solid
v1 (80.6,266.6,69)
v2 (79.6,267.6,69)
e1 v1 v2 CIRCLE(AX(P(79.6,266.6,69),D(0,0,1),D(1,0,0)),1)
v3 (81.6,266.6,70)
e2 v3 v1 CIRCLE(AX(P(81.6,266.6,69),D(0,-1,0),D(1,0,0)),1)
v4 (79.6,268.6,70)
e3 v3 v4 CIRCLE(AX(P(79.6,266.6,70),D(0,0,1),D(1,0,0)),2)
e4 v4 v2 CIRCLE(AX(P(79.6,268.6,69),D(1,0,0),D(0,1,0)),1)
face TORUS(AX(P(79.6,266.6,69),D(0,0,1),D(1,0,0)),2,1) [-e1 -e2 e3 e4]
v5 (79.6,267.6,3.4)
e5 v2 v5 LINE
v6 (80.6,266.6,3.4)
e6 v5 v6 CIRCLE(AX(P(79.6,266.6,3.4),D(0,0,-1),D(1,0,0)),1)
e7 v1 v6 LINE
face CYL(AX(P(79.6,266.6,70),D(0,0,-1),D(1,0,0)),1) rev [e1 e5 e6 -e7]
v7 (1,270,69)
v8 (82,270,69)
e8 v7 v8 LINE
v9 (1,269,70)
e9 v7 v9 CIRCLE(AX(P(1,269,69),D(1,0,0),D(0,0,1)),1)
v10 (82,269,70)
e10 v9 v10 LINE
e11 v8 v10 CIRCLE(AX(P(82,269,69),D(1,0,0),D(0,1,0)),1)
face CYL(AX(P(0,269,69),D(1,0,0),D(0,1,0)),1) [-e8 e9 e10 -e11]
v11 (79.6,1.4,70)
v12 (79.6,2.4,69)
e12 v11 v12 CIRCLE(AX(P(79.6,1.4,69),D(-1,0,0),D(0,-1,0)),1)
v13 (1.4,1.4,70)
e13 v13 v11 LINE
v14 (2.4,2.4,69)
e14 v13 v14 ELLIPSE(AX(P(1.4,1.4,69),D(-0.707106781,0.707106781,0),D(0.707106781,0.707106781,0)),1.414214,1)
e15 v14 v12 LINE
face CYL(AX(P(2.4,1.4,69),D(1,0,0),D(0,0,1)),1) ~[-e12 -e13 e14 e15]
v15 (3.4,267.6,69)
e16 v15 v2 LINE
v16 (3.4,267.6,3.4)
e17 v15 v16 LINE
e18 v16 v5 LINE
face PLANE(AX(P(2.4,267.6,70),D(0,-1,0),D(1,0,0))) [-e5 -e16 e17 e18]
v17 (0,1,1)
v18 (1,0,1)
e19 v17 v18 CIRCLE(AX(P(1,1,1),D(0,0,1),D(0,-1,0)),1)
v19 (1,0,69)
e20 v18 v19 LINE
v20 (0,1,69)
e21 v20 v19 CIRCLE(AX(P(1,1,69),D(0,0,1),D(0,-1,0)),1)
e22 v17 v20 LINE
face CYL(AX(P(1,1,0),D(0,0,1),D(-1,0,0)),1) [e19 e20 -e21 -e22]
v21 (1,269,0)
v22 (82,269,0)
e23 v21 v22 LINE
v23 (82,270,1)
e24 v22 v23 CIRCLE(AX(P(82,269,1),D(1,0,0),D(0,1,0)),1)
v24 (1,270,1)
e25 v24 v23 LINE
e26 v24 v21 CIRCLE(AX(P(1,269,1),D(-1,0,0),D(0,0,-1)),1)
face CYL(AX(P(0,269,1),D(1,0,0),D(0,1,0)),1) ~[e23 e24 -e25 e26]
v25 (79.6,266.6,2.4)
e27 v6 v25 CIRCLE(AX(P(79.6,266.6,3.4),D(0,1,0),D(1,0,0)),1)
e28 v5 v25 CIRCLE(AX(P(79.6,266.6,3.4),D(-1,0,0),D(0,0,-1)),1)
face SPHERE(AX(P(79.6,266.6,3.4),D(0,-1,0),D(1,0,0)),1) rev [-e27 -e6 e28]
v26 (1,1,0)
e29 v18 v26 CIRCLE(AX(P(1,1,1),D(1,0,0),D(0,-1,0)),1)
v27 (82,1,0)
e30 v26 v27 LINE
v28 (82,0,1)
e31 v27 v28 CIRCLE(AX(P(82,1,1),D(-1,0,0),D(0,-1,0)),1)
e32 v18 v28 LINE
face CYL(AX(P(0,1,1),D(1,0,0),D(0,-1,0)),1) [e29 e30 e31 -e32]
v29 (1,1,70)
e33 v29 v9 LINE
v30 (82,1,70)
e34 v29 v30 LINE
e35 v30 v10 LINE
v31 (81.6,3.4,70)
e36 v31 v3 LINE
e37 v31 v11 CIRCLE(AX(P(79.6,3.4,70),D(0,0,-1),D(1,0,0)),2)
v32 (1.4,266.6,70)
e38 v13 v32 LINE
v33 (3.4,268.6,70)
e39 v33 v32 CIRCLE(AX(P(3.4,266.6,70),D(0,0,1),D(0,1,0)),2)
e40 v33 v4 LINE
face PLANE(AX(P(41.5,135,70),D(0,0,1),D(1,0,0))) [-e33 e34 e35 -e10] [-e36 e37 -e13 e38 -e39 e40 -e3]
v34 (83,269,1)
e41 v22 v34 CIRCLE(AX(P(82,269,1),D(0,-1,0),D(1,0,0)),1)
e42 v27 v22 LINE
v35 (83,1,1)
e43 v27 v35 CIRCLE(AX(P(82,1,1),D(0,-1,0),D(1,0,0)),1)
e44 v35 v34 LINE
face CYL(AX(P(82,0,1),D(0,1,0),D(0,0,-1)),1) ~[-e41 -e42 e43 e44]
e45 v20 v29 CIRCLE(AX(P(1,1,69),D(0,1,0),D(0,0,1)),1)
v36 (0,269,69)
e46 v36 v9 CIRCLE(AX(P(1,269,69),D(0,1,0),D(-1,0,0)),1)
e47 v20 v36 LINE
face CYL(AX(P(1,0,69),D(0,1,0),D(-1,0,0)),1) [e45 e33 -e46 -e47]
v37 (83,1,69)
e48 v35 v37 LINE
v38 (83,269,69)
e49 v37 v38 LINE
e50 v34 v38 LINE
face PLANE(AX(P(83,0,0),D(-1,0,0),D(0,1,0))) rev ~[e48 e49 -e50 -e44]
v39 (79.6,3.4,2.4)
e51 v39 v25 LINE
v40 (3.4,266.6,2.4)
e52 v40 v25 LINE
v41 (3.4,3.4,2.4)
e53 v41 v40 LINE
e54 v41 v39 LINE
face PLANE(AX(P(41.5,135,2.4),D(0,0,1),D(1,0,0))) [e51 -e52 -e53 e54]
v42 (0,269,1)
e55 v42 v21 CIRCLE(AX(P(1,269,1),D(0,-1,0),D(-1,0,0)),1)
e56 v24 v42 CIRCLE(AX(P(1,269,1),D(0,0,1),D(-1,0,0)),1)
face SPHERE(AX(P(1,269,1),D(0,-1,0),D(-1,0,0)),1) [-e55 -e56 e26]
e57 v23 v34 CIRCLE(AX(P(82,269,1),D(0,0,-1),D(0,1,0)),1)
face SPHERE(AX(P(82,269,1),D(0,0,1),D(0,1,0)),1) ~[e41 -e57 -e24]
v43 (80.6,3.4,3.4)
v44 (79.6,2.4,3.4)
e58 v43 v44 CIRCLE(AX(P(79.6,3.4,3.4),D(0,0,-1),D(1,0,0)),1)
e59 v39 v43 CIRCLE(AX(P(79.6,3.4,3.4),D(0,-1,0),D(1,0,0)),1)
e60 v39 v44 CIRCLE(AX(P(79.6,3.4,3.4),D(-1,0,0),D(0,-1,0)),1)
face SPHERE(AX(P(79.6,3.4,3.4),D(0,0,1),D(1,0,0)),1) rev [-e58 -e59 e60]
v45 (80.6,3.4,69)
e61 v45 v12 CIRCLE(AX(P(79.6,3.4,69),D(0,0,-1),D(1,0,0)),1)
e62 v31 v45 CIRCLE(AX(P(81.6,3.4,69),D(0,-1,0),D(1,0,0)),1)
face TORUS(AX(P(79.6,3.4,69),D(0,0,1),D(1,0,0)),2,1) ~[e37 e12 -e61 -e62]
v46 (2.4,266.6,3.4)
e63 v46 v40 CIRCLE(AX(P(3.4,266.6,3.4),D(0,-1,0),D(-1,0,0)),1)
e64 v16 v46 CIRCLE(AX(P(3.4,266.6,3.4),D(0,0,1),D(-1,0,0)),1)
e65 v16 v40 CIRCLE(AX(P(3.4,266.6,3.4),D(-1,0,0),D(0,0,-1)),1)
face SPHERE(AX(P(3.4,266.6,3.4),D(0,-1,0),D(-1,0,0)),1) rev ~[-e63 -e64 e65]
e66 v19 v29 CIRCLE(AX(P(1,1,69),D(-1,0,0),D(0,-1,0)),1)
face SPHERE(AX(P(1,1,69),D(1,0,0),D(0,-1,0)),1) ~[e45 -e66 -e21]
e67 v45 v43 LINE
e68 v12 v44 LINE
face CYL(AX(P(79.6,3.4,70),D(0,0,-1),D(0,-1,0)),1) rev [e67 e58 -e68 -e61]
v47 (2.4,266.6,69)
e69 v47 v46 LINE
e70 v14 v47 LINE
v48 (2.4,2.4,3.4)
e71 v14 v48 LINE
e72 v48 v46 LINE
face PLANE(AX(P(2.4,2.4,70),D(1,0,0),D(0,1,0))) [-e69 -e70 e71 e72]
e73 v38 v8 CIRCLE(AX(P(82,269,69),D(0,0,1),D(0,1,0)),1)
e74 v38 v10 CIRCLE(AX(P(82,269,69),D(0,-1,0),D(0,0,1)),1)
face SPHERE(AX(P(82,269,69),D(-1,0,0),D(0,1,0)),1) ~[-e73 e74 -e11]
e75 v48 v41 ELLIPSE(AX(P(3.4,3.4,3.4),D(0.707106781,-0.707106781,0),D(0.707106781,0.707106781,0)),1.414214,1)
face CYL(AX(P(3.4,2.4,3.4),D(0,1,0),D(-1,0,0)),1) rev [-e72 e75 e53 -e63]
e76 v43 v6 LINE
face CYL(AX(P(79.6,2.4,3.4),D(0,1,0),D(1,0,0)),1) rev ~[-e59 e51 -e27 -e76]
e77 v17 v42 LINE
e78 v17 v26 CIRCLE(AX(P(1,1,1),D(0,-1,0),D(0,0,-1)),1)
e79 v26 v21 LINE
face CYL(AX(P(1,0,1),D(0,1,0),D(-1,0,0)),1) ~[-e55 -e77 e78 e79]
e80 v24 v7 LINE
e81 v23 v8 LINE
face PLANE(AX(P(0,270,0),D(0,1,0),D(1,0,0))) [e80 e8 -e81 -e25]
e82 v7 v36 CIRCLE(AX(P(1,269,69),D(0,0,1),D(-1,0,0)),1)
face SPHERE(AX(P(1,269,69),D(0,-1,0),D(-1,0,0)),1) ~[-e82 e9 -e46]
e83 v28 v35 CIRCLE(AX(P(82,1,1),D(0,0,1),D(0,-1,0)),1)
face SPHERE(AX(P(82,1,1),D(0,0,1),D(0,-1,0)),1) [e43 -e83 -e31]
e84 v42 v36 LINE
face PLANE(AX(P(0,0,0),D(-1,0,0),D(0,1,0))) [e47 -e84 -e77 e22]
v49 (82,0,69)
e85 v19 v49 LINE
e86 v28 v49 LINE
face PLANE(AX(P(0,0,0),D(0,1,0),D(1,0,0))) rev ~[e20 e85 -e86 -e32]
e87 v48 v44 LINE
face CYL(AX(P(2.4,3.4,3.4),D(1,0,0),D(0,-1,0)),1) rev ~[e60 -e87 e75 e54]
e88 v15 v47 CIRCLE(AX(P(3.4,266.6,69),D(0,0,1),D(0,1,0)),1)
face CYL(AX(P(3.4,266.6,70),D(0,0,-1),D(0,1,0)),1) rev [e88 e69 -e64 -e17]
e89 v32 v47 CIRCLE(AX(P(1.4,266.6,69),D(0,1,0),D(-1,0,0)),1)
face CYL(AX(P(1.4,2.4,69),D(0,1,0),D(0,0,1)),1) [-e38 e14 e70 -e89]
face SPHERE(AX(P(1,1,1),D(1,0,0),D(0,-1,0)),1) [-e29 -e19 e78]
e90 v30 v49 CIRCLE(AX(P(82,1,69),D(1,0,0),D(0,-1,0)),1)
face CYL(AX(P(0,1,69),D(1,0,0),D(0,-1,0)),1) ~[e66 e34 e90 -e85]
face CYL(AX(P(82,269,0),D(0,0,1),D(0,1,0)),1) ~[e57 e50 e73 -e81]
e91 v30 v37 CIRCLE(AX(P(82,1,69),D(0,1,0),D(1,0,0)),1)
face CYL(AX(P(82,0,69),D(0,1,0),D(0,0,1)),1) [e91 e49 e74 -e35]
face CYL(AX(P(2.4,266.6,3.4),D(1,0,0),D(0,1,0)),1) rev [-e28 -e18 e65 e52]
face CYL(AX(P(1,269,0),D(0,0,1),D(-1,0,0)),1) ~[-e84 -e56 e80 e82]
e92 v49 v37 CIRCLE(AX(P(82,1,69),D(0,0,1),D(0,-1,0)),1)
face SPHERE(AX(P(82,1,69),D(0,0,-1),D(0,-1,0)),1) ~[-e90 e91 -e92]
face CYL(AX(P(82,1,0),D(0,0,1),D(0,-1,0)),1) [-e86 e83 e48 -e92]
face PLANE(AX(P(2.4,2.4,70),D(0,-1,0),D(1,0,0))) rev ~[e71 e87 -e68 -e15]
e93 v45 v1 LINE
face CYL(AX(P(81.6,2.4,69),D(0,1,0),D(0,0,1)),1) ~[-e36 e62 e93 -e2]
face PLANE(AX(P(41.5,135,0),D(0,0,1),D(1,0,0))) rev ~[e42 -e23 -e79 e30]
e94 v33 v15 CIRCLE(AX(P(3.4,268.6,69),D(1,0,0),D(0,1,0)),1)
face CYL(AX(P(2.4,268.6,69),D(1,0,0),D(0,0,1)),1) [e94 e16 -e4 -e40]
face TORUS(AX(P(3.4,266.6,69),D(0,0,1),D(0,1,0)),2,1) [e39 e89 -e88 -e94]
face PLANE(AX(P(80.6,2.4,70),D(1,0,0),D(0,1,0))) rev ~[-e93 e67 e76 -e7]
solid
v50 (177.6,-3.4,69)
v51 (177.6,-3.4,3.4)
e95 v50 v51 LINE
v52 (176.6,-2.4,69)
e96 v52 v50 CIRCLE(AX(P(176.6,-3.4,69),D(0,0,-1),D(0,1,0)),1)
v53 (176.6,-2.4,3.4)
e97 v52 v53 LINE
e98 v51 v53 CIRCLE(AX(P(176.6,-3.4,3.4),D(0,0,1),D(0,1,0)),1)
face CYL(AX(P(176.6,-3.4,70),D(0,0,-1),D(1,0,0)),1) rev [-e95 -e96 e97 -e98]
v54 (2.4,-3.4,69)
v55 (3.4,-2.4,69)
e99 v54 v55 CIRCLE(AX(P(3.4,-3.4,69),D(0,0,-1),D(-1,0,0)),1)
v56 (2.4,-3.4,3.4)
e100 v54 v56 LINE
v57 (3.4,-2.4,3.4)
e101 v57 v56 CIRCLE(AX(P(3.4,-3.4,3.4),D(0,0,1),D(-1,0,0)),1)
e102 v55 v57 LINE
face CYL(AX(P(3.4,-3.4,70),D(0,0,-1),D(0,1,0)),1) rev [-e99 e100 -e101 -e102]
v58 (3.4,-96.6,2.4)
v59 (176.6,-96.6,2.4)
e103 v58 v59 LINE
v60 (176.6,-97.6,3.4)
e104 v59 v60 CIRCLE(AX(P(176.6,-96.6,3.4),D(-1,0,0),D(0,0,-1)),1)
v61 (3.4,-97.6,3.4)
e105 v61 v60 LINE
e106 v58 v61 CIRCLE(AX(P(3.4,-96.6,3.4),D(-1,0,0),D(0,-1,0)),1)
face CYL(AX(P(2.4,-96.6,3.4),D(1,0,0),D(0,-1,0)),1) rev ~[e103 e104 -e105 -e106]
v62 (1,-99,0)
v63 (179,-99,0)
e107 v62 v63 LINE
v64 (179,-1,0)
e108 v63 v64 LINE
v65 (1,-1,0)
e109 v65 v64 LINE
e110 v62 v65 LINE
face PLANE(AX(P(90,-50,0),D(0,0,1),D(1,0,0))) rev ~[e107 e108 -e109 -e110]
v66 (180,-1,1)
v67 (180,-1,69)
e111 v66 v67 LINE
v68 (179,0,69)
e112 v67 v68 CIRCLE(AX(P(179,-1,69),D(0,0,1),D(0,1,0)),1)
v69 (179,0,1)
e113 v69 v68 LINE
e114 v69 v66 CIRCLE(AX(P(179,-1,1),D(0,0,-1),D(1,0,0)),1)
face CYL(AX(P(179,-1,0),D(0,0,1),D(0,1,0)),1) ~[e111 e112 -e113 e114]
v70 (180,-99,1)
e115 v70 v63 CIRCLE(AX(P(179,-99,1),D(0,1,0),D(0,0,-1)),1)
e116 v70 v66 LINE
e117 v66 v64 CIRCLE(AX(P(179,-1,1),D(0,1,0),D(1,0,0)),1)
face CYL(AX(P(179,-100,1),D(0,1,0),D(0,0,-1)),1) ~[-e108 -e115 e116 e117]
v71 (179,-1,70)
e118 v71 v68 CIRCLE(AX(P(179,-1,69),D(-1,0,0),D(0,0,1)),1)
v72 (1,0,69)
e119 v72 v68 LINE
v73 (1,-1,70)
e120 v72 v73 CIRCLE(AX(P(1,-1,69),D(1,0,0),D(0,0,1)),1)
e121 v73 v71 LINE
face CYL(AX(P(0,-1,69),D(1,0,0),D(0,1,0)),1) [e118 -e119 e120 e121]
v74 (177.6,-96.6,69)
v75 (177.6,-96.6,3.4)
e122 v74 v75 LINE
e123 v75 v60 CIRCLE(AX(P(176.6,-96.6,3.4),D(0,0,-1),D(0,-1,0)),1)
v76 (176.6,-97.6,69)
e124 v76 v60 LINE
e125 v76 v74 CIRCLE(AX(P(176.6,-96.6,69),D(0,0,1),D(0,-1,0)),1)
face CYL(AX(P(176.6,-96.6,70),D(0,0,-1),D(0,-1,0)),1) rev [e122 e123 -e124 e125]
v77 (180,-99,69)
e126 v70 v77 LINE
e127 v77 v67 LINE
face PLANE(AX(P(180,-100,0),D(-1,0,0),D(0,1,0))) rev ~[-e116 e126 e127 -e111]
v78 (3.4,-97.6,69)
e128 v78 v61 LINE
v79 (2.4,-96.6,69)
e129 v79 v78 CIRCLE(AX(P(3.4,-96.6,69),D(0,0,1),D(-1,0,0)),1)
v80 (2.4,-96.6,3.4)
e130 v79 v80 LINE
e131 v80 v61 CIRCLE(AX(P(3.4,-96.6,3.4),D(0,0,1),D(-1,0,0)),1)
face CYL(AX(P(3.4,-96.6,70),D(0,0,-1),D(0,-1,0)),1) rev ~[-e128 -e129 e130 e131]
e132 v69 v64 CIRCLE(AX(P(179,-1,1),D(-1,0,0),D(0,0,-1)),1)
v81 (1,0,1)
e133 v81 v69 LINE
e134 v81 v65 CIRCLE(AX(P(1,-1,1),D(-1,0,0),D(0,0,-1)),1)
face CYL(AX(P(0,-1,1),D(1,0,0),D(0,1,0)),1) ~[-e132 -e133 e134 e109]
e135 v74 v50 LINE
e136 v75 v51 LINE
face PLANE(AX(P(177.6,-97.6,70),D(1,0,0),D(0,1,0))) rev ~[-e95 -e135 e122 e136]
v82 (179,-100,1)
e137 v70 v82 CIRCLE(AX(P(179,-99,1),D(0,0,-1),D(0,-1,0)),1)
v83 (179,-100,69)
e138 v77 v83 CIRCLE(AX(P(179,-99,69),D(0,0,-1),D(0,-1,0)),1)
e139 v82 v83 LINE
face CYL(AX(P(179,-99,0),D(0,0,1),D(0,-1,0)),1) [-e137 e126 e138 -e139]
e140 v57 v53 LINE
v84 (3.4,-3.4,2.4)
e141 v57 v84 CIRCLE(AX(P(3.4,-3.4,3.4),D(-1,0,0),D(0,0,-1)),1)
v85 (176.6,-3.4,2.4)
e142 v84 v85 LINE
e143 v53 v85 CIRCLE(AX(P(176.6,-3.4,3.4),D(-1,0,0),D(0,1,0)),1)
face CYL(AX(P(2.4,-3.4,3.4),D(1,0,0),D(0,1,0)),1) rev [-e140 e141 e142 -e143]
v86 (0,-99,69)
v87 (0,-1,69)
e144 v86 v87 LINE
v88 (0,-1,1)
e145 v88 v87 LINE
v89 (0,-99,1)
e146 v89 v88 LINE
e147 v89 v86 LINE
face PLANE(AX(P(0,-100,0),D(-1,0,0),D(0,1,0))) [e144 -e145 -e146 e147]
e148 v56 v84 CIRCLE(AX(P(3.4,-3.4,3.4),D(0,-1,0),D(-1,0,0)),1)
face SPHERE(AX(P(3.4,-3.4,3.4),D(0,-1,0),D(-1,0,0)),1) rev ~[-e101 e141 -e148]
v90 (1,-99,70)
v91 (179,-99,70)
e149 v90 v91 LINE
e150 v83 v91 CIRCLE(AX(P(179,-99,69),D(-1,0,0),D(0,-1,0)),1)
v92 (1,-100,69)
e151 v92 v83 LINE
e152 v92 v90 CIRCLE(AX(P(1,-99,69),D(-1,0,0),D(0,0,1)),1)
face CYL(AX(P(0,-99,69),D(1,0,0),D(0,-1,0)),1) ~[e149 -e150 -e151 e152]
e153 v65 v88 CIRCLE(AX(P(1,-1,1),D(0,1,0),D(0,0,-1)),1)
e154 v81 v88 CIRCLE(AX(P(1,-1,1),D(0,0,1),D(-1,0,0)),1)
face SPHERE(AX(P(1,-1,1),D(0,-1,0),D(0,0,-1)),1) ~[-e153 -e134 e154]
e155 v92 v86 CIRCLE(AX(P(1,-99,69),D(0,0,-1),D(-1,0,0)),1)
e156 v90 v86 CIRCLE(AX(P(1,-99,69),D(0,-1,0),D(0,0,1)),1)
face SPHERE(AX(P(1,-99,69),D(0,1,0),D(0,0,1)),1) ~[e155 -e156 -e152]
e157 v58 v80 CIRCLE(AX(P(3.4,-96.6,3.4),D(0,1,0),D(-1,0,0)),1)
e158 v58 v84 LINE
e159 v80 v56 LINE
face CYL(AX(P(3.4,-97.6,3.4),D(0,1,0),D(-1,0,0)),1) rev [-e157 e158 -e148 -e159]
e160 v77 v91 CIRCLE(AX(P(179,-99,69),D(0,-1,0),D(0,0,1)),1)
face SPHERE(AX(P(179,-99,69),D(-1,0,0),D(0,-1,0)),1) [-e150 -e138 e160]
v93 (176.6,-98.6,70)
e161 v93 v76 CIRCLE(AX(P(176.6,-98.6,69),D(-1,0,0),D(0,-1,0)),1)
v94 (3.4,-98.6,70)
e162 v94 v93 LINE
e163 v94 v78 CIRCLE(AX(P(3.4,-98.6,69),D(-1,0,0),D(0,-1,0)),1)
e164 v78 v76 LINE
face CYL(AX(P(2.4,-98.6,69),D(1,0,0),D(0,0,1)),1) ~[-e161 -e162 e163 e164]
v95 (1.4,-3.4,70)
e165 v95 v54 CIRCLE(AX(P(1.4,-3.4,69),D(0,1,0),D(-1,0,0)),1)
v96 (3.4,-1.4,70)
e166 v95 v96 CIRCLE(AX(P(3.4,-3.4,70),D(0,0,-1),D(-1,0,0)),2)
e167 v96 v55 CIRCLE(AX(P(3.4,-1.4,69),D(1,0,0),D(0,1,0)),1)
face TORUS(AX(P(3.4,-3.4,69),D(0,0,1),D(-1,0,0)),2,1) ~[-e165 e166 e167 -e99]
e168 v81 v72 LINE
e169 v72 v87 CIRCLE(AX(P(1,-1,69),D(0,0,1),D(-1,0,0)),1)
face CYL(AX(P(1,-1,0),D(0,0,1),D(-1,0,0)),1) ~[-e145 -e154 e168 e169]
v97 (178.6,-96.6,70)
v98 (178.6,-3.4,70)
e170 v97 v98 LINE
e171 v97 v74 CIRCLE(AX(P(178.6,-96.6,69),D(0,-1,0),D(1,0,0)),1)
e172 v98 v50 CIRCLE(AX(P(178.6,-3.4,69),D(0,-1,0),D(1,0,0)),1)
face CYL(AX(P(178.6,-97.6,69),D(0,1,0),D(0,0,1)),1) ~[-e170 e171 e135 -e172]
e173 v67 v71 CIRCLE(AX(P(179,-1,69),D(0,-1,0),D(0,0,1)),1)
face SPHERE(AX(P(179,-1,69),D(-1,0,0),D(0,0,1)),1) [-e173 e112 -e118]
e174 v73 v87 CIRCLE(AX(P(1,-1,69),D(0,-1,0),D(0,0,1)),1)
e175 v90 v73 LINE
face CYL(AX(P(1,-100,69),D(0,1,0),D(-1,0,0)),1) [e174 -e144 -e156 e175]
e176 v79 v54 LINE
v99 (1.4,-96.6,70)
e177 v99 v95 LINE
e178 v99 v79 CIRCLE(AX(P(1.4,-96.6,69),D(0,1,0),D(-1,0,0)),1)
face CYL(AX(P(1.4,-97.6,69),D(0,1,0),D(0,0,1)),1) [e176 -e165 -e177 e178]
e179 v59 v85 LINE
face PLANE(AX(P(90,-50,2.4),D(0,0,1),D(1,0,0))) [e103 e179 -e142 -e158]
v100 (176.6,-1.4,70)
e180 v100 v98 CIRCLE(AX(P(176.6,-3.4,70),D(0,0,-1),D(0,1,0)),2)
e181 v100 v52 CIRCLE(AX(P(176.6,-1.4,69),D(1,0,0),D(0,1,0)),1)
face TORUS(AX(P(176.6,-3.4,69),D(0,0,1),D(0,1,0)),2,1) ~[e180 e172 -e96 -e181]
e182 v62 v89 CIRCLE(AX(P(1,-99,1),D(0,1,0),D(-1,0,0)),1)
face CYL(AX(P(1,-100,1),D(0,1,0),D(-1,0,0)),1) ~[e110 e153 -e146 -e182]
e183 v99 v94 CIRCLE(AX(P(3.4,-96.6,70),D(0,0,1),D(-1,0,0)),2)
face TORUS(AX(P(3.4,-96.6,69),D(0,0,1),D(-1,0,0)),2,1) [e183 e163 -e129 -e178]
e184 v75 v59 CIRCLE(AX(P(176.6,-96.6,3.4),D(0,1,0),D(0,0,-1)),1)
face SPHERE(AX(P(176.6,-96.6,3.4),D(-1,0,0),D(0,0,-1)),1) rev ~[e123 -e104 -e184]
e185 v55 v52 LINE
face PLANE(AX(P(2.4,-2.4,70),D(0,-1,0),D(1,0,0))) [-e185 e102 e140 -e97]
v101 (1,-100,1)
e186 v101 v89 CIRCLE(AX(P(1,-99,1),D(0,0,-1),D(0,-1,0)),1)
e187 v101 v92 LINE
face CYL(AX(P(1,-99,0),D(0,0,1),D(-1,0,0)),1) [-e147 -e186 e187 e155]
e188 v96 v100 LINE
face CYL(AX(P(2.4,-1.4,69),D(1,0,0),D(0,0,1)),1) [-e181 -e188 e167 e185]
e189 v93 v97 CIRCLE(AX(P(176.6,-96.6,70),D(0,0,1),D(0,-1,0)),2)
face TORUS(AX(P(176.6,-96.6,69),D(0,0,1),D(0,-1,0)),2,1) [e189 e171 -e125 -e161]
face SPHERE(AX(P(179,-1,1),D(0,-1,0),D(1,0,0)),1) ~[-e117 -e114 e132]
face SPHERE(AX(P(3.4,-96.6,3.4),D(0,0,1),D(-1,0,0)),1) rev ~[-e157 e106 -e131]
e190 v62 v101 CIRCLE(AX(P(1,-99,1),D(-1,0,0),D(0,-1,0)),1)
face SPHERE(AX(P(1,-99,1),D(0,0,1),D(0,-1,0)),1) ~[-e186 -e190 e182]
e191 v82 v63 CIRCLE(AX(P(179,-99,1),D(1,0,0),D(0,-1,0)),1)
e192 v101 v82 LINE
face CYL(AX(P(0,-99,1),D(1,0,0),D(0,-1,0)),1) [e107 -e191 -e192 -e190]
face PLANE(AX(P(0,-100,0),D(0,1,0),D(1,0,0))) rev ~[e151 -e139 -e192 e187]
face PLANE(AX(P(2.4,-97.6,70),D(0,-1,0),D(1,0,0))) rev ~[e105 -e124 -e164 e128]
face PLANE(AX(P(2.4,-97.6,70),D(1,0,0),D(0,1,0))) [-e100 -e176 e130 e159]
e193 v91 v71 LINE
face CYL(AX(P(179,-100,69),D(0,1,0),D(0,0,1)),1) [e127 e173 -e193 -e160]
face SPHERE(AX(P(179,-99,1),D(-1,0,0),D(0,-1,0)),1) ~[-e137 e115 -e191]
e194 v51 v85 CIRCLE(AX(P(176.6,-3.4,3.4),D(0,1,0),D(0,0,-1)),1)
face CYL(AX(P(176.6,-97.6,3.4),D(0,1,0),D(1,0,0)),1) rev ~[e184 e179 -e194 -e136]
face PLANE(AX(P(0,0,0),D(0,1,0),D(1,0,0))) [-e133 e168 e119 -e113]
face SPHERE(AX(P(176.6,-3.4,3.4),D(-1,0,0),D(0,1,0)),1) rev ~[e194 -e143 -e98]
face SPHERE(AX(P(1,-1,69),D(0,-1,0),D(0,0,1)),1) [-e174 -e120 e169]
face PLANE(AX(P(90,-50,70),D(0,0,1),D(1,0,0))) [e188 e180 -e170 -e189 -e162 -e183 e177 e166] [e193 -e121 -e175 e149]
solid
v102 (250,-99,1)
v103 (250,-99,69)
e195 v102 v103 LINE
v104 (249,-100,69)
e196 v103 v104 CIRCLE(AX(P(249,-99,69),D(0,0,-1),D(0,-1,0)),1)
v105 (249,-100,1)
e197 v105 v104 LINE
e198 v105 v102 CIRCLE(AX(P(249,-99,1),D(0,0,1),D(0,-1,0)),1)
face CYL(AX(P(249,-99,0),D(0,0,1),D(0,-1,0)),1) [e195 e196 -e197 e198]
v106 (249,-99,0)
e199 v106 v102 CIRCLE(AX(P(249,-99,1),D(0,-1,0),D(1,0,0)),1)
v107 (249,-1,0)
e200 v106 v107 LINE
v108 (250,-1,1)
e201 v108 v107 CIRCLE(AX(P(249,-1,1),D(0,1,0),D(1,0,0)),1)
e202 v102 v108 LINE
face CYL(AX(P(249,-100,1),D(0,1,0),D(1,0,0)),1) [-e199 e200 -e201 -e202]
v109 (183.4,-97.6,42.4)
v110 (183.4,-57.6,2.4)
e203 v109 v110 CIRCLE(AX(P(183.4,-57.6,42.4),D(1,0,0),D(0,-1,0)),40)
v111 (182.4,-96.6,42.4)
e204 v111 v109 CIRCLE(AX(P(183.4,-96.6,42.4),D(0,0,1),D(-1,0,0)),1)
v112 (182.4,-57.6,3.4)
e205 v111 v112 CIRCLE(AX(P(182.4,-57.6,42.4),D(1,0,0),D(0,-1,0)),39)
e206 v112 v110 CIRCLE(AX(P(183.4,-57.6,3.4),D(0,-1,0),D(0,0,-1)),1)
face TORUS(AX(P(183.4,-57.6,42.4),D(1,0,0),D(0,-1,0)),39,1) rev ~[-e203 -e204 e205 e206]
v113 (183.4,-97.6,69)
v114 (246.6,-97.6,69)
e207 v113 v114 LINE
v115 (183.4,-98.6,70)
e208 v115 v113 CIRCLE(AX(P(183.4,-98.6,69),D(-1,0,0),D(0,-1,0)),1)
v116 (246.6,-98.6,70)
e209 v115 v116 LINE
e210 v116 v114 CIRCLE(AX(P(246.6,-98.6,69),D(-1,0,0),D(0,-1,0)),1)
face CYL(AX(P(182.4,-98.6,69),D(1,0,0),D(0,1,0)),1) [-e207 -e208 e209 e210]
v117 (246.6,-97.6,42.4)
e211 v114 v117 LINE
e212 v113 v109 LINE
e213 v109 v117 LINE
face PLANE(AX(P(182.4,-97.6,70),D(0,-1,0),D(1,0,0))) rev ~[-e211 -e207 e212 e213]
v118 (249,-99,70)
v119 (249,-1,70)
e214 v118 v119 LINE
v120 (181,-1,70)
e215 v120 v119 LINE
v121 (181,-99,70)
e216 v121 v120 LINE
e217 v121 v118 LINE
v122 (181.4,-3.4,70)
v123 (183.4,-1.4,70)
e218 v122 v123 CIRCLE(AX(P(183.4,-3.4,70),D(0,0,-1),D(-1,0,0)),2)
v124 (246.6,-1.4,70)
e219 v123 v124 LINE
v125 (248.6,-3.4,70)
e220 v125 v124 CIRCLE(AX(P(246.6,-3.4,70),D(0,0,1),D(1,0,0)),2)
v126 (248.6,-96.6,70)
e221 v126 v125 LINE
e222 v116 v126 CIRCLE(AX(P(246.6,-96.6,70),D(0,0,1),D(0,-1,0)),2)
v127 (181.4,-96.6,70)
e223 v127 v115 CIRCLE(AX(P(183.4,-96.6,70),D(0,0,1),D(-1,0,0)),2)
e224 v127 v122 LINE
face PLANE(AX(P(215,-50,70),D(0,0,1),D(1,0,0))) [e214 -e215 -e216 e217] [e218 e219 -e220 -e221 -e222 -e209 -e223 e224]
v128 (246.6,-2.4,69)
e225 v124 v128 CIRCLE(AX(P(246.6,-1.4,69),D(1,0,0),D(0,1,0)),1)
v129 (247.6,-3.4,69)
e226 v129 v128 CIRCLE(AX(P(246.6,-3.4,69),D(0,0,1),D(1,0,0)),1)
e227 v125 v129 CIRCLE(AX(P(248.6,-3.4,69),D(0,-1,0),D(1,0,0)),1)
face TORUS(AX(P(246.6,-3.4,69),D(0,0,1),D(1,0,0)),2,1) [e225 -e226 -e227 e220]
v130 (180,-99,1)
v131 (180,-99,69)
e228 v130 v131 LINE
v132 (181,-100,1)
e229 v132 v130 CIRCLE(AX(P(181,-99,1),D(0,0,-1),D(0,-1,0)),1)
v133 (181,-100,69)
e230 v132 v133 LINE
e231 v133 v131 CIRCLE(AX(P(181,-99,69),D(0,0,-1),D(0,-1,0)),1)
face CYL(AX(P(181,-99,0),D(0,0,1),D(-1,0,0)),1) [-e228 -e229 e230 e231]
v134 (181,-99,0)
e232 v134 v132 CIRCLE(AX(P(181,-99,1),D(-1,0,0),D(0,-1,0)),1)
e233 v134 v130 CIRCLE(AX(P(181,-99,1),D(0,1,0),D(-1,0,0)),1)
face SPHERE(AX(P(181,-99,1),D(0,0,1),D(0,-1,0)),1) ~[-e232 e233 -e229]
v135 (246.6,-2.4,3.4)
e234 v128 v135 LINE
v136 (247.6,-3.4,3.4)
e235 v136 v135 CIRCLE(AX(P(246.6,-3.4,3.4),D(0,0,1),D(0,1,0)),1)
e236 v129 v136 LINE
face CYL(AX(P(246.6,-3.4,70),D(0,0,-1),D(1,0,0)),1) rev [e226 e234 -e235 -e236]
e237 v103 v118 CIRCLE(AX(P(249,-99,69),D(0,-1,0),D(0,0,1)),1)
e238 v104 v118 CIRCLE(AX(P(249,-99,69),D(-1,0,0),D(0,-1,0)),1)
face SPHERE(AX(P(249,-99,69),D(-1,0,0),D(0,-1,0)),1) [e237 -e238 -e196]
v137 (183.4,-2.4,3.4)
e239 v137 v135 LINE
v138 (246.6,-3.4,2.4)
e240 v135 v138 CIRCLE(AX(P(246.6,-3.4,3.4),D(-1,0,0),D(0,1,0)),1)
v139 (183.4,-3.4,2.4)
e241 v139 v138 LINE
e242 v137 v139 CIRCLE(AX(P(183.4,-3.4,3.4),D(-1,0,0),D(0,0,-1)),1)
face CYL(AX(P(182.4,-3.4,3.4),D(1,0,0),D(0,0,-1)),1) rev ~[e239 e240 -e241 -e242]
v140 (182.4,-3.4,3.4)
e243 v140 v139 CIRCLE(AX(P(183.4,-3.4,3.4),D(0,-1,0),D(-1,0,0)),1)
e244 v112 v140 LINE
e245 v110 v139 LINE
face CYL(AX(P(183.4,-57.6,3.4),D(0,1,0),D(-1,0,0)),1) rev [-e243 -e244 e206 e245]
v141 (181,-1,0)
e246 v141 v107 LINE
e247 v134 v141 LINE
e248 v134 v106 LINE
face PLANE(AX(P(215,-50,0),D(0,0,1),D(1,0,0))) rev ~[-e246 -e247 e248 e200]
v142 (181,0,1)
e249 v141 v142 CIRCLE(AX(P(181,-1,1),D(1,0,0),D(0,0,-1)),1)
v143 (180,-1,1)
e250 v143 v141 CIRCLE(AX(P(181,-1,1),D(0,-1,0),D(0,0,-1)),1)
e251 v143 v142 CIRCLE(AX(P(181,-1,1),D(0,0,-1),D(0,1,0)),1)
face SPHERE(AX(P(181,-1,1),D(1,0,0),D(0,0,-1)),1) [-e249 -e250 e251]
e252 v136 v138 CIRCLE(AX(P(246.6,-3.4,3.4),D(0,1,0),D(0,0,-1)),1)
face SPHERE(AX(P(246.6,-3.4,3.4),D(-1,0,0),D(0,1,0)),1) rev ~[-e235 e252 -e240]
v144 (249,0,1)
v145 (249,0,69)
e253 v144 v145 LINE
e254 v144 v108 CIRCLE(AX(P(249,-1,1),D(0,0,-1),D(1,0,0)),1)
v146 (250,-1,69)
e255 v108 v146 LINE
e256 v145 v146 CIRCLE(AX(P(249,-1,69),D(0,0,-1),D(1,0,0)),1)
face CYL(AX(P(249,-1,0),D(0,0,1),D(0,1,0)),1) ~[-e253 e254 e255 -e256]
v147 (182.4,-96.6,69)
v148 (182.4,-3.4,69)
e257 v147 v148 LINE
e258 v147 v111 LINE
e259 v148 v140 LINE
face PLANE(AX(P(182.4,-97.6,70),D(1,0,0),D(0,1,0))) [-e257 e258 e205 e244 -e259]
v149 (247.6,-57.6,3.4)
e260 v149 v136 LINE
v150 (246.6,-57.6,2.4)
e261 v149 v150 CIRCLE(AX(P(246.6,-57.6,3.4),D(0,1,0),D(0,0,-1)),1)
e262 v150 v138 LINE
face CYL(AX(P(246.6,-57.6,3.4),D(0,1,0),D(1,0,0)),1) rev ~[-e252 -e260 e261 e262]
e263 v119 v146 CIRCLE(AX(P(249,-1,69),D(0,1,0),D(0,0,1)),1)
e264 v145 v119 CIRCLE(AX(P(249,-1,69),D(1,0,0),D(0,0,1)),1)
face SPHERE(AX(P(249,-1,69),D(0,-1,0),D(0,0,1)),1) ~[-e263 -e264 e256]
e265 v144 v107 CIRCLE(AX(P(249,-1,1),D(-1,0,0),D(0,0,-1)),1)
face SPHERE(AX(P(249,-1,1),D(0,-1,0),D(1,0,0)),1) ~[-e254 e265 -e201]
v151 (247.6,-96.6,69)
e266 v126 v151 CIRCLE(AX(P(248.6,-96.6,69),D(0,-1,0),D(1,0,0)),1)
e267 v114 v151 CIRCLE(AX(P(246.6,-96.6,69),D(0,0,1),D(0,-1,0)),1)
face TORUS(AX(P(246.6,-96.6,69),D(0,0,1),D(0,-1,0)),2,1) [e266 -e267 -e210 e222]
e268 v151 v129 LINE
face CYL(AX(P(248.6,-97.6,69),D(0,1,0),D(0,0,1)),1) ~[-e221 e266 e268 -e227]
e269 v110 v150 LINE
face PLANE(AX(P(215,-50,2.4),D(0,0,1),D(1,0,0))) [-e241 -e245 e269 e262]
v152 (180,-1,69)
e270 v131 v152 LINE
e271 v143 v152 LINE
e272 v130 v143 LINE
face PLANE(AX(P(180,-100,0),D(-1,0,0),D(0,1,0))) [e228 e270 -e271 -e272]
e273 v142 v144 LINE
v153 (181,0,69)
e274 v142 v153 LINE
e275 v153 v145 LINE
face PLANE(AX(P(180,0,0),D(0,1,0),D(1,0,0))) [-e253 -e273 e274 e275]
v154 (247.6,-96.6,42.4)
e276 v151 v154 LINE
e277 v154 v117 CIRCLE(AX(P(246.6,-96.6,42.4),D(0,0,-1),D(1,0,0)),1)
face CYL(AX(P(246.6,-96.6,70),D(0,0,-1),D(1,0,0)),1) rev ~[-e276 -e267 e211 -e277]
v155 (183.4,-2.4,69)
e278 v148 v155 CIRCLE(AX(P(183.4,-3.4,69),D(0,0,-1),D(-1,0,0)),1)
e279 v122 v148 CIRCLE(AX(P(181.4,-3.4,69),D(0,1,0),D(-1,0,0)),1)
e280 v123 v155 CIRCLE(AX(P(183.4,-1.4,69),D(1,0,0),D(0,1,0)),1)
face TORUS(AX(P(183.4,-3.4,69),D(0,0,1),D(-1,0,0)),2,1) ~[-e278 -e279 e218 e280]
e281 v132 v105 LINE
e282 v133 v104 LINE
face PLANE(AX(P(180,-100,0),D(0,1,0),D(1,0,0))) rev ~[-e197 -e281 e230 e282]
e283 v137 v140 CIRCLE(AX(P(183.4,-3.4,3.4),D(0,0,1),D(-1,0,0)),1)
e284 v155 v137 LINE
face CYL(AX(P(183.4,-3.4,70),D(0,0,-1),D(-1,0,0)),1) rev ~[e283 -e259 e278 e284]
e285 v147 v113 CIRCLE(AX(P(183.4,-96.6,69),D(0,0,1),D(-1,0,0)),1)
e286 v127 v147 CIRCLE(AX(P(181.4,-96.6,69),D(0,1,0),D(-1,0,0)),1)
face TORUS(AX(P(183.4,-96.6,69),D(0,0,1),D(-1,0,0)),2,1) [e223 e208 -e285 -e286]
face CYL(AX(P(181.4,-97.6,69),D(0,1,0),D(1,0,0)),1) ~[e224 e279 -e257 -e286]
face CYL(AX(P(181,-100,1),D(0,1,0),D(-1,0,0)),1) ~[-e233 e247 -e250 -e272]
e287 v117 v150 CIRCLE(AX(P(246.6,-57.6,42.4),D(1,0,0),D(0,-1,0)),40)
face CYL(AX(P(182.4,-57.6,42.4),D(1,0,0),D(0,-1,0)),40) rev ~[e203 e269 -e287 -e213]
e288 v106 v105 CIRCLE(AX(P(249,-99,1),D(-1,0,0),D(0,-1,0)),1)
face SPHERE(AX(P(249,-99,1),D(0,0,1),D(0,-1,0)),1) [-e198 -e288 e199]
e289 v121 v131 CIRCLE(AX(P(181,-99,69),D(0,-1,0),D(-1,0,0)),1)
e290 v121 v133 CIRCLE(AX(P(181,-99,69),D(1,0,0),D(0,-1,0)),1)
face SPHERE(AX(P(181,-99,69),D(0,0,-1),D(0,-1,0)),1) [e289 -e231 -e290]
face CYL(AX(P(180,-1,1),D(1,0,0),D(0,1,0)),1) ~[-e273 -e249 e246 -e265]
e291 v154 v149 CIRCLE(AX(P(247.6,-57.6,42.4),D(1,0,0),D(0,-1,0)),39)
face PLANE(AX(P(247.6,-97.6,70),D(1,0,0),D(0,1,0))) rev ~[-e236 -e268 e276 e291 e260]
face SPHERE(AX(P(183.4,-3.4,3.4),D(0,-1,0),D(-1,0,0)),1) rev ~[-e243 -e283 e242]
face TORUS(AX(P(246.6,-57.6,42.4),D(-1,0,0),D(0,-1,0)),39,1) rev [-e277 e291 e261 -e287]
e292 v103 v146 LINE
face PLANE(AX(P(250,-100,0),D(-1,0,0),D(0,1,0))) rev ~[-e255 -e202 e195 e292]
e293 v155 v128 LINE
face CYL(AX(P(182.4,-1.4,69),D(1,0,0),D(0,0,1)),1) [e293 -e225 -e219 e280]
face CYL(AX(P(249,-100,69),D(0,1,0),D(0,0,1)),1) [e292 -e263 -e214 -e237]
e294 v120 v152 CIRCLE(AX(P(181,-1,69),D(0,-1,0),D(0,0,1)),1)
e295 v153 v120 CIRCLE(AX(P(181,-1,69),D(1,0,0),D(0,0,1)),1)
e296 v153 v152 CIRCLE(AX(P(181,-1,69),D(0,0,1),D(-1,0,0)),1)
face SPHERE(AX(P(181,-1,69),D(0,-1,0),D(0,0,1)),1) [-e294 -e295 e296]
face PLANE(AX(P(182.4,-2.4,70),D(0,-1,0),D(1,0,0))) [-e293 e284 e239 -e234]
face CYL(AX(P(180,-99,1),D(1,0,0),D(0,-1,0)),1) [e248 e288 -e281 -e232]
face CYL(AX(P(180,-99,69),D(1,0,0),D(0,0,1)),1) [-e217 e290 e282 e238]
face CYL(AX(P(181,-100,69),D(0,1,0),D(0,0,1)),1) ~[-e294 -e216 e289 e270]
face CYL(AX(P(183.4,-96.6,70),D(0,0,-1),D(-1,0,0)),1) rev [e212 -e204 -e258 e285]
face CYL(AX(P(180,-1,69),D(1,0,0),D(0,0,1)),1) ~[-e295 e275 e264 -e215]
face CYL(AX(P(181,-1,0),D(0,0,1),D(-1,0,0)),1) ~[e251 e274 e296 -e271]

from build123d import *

# Parameters (mm, degrees)
SKETCH_W        = 83
SKETCH_H        = 270
PAD_DEPTH       = 70
SKETCH001_W     = 78.2
SKETCH001_H     = 265.2
POCKET_DEPTH    = 67.6
FILLET_R        = 1
SKETCH002_W     = 180
SKETCH002_H     = 100
PAD001_DEPTH    = 70
SKETCH003_W     = 175.2
SKETCH003_H     = 95.2
POCKET001_DEPTH = 67.6
FILLET001_R     = 1
SKETCH004_W     = 70
SKETCH004_H     = 100
PAD002_DEPTH    = 70
SKETCH005_W     = 65.2
SKETCH005_H     = 95.2
POCKET002_DEPTH = 67.6
FILLET002_R     = 40
FILLET003_R     = 1


with BuildPart() as cuterly_top:
    # Sketch → Pad (new body)
    with BuildSketch(Plane.XY):
        with Locations((41.5, 135)):
            Rectangle(SKETCH_W, SKETCH_H)
    extrude(amount=PAD_DEPTH)

    # Sketch001 → Pocket (cut)
    with BuildSketch(Plane.XY.offset(70)):
        with Locations((41.5, 135)):
            Rectangle(SKETCH001_W, SKETCH001_H)
    extrude(amount=-POCKET_DEPTH, mode=Mode.SUBTRACT)

    # Fillet
    fillet_edges = [cuterly_top.edges().sort_by_distance(p)[0] for p in [
        (83, 0, 35),
        (41.5, 0, 70),
        (41.5, 0, 0),
        (0, 0, 35),
        (0, 135, 70),
        (0, 135, 0),
        (0, 270, 35),
        (41.5, 270, 70),
        (83, 270, 35),
        (41.5, 270, 0),
        (83, 135, 0),
        (83, 135, 70),
        (80.6, 135, 70),
        (41.5, 2.4, 70),
        (80.6, 2.4, 36.2),
        (80.6, 135, 2.4),
        (41.5, 2.4, 2.4),
        (2.4, 135, 2.4),
        (2.4, 135, 70),
        (2.4, 267.6, 36.2),
        (41.5, 267.6, 70),
        (80.6, 267.6, 36.2),
        (41.5, 267.6, 2.4),
    ]]
    fillet(fillet_edges, radius=FILLET_R)


with BuildPart() as cuterly_bottom:
    # Sketch002 → Pad001 (new body)
    with BuildSketch(Plane.XY):
        with Locations((90, -50)):
            Rectangle(SKETCH002_W, SKETCH002_H)
    extrude(amount=PAD001_DEPTH)

    # Sketch003 → Pocket001 (cut)
    with BuildSketch(Plane.XY.offset(70)):
        with Locations((90, -50)):
            Rectangle(SKETCH003_W, SKETCH003_H)
    extrude(amount=-POCKET001_DEPTH, mode=Mode.SUBTRACT)

    # Fillet001
    fillet001_edges = [cuterly_bottom.edges().sort_by_distance(p)[0] for p in [
        (2.4, -50, 70),
        (0, -50, 70),
        (90, -2.4, 70),
        (90, 0, 70),
        (90, -100, 70),
        (90, -97.6, 70),
        (0, -100, 35),
        (90, -100, 0),
        (0, -50, 0),
        (180, -100, 35),
        (180, -50, 70),
        (177.6, -50, 70),
        (180, -50, 0),
        (180, 0, 35),
        (90, 0, 0),
        (0, 0, 35),
        (2.4, -97.6, 36.2),
        (2.4, -50, 2.4),
        (90, -97.6, 2.4),
        (2.4, -2.4, 36.2),
        (90, -2.4, 2.4),
        (177.6, -2.4, 36.2),
        (177.6, -50, 2.4),
        (177.6, -97.6, 36.2),
    ]]
    fillet(fillet001_edges, radius=FILLET001_R)


with BuildPart() as storage:
    # Sketch004 → Pad002 (new body)
    with BuildSketch(Plane.XY):
        with Locations((215, -50)):
            Rectangle(SKETCH004_W, SKETCH004_H)
    extrude(amount=PAD002_DEPTH)

    # Sketch005 → Pocket002 (cut)
    with BuildSketch(Plane.XY.offset(70)):
        with Locations((215, -50)):
            Rectangle(SKETCH005_W, SKETCH005_H)
    extrude(amount=-POCKET002_DEPTH, mode=Mode.SUBTRACT)

    # Fillet002
    fillet002_edges = [storage.edges().sort_by_distance(p)[0] for p in [
        (215, -97.6, 2.4),
    ]]
    fillet(fillet002_edges, radius=FILLET002_R)

    # Fillet003
    fillet003_edges = [storage.edges().sort_by_distance(p)[0] for p in [
        (180, -100, 35),
        (215, -100, 70),
        (250, -100, 35),
        (215, -100, 0),
        (180, -50, 70),
        (182.4, -50, 70),
        (215, -97.6, 70),
        (247.6, -50, 70),
        (250, -50, 70),
        (215, -2.4, 70),
        (215, 0, 70),
        (250, -50, 0),
        (250, 0, 35),
        (215, 0, 0),
        (180, -50, 0),
        (180, 0, 35),
        (182.4, -30, 2.4),
        (182.4, -2.4, 36.2),
        (215, -2.4, 2.4),
        (247.6, -2.4, 36.2),
        (247.6, -30, 2.4),
    ]]
    fillet(fillet003_edges, radius=FILLET003_R)


solid = Compound([cuterly_top.part, cuterly_bottom.part, storage.part])
